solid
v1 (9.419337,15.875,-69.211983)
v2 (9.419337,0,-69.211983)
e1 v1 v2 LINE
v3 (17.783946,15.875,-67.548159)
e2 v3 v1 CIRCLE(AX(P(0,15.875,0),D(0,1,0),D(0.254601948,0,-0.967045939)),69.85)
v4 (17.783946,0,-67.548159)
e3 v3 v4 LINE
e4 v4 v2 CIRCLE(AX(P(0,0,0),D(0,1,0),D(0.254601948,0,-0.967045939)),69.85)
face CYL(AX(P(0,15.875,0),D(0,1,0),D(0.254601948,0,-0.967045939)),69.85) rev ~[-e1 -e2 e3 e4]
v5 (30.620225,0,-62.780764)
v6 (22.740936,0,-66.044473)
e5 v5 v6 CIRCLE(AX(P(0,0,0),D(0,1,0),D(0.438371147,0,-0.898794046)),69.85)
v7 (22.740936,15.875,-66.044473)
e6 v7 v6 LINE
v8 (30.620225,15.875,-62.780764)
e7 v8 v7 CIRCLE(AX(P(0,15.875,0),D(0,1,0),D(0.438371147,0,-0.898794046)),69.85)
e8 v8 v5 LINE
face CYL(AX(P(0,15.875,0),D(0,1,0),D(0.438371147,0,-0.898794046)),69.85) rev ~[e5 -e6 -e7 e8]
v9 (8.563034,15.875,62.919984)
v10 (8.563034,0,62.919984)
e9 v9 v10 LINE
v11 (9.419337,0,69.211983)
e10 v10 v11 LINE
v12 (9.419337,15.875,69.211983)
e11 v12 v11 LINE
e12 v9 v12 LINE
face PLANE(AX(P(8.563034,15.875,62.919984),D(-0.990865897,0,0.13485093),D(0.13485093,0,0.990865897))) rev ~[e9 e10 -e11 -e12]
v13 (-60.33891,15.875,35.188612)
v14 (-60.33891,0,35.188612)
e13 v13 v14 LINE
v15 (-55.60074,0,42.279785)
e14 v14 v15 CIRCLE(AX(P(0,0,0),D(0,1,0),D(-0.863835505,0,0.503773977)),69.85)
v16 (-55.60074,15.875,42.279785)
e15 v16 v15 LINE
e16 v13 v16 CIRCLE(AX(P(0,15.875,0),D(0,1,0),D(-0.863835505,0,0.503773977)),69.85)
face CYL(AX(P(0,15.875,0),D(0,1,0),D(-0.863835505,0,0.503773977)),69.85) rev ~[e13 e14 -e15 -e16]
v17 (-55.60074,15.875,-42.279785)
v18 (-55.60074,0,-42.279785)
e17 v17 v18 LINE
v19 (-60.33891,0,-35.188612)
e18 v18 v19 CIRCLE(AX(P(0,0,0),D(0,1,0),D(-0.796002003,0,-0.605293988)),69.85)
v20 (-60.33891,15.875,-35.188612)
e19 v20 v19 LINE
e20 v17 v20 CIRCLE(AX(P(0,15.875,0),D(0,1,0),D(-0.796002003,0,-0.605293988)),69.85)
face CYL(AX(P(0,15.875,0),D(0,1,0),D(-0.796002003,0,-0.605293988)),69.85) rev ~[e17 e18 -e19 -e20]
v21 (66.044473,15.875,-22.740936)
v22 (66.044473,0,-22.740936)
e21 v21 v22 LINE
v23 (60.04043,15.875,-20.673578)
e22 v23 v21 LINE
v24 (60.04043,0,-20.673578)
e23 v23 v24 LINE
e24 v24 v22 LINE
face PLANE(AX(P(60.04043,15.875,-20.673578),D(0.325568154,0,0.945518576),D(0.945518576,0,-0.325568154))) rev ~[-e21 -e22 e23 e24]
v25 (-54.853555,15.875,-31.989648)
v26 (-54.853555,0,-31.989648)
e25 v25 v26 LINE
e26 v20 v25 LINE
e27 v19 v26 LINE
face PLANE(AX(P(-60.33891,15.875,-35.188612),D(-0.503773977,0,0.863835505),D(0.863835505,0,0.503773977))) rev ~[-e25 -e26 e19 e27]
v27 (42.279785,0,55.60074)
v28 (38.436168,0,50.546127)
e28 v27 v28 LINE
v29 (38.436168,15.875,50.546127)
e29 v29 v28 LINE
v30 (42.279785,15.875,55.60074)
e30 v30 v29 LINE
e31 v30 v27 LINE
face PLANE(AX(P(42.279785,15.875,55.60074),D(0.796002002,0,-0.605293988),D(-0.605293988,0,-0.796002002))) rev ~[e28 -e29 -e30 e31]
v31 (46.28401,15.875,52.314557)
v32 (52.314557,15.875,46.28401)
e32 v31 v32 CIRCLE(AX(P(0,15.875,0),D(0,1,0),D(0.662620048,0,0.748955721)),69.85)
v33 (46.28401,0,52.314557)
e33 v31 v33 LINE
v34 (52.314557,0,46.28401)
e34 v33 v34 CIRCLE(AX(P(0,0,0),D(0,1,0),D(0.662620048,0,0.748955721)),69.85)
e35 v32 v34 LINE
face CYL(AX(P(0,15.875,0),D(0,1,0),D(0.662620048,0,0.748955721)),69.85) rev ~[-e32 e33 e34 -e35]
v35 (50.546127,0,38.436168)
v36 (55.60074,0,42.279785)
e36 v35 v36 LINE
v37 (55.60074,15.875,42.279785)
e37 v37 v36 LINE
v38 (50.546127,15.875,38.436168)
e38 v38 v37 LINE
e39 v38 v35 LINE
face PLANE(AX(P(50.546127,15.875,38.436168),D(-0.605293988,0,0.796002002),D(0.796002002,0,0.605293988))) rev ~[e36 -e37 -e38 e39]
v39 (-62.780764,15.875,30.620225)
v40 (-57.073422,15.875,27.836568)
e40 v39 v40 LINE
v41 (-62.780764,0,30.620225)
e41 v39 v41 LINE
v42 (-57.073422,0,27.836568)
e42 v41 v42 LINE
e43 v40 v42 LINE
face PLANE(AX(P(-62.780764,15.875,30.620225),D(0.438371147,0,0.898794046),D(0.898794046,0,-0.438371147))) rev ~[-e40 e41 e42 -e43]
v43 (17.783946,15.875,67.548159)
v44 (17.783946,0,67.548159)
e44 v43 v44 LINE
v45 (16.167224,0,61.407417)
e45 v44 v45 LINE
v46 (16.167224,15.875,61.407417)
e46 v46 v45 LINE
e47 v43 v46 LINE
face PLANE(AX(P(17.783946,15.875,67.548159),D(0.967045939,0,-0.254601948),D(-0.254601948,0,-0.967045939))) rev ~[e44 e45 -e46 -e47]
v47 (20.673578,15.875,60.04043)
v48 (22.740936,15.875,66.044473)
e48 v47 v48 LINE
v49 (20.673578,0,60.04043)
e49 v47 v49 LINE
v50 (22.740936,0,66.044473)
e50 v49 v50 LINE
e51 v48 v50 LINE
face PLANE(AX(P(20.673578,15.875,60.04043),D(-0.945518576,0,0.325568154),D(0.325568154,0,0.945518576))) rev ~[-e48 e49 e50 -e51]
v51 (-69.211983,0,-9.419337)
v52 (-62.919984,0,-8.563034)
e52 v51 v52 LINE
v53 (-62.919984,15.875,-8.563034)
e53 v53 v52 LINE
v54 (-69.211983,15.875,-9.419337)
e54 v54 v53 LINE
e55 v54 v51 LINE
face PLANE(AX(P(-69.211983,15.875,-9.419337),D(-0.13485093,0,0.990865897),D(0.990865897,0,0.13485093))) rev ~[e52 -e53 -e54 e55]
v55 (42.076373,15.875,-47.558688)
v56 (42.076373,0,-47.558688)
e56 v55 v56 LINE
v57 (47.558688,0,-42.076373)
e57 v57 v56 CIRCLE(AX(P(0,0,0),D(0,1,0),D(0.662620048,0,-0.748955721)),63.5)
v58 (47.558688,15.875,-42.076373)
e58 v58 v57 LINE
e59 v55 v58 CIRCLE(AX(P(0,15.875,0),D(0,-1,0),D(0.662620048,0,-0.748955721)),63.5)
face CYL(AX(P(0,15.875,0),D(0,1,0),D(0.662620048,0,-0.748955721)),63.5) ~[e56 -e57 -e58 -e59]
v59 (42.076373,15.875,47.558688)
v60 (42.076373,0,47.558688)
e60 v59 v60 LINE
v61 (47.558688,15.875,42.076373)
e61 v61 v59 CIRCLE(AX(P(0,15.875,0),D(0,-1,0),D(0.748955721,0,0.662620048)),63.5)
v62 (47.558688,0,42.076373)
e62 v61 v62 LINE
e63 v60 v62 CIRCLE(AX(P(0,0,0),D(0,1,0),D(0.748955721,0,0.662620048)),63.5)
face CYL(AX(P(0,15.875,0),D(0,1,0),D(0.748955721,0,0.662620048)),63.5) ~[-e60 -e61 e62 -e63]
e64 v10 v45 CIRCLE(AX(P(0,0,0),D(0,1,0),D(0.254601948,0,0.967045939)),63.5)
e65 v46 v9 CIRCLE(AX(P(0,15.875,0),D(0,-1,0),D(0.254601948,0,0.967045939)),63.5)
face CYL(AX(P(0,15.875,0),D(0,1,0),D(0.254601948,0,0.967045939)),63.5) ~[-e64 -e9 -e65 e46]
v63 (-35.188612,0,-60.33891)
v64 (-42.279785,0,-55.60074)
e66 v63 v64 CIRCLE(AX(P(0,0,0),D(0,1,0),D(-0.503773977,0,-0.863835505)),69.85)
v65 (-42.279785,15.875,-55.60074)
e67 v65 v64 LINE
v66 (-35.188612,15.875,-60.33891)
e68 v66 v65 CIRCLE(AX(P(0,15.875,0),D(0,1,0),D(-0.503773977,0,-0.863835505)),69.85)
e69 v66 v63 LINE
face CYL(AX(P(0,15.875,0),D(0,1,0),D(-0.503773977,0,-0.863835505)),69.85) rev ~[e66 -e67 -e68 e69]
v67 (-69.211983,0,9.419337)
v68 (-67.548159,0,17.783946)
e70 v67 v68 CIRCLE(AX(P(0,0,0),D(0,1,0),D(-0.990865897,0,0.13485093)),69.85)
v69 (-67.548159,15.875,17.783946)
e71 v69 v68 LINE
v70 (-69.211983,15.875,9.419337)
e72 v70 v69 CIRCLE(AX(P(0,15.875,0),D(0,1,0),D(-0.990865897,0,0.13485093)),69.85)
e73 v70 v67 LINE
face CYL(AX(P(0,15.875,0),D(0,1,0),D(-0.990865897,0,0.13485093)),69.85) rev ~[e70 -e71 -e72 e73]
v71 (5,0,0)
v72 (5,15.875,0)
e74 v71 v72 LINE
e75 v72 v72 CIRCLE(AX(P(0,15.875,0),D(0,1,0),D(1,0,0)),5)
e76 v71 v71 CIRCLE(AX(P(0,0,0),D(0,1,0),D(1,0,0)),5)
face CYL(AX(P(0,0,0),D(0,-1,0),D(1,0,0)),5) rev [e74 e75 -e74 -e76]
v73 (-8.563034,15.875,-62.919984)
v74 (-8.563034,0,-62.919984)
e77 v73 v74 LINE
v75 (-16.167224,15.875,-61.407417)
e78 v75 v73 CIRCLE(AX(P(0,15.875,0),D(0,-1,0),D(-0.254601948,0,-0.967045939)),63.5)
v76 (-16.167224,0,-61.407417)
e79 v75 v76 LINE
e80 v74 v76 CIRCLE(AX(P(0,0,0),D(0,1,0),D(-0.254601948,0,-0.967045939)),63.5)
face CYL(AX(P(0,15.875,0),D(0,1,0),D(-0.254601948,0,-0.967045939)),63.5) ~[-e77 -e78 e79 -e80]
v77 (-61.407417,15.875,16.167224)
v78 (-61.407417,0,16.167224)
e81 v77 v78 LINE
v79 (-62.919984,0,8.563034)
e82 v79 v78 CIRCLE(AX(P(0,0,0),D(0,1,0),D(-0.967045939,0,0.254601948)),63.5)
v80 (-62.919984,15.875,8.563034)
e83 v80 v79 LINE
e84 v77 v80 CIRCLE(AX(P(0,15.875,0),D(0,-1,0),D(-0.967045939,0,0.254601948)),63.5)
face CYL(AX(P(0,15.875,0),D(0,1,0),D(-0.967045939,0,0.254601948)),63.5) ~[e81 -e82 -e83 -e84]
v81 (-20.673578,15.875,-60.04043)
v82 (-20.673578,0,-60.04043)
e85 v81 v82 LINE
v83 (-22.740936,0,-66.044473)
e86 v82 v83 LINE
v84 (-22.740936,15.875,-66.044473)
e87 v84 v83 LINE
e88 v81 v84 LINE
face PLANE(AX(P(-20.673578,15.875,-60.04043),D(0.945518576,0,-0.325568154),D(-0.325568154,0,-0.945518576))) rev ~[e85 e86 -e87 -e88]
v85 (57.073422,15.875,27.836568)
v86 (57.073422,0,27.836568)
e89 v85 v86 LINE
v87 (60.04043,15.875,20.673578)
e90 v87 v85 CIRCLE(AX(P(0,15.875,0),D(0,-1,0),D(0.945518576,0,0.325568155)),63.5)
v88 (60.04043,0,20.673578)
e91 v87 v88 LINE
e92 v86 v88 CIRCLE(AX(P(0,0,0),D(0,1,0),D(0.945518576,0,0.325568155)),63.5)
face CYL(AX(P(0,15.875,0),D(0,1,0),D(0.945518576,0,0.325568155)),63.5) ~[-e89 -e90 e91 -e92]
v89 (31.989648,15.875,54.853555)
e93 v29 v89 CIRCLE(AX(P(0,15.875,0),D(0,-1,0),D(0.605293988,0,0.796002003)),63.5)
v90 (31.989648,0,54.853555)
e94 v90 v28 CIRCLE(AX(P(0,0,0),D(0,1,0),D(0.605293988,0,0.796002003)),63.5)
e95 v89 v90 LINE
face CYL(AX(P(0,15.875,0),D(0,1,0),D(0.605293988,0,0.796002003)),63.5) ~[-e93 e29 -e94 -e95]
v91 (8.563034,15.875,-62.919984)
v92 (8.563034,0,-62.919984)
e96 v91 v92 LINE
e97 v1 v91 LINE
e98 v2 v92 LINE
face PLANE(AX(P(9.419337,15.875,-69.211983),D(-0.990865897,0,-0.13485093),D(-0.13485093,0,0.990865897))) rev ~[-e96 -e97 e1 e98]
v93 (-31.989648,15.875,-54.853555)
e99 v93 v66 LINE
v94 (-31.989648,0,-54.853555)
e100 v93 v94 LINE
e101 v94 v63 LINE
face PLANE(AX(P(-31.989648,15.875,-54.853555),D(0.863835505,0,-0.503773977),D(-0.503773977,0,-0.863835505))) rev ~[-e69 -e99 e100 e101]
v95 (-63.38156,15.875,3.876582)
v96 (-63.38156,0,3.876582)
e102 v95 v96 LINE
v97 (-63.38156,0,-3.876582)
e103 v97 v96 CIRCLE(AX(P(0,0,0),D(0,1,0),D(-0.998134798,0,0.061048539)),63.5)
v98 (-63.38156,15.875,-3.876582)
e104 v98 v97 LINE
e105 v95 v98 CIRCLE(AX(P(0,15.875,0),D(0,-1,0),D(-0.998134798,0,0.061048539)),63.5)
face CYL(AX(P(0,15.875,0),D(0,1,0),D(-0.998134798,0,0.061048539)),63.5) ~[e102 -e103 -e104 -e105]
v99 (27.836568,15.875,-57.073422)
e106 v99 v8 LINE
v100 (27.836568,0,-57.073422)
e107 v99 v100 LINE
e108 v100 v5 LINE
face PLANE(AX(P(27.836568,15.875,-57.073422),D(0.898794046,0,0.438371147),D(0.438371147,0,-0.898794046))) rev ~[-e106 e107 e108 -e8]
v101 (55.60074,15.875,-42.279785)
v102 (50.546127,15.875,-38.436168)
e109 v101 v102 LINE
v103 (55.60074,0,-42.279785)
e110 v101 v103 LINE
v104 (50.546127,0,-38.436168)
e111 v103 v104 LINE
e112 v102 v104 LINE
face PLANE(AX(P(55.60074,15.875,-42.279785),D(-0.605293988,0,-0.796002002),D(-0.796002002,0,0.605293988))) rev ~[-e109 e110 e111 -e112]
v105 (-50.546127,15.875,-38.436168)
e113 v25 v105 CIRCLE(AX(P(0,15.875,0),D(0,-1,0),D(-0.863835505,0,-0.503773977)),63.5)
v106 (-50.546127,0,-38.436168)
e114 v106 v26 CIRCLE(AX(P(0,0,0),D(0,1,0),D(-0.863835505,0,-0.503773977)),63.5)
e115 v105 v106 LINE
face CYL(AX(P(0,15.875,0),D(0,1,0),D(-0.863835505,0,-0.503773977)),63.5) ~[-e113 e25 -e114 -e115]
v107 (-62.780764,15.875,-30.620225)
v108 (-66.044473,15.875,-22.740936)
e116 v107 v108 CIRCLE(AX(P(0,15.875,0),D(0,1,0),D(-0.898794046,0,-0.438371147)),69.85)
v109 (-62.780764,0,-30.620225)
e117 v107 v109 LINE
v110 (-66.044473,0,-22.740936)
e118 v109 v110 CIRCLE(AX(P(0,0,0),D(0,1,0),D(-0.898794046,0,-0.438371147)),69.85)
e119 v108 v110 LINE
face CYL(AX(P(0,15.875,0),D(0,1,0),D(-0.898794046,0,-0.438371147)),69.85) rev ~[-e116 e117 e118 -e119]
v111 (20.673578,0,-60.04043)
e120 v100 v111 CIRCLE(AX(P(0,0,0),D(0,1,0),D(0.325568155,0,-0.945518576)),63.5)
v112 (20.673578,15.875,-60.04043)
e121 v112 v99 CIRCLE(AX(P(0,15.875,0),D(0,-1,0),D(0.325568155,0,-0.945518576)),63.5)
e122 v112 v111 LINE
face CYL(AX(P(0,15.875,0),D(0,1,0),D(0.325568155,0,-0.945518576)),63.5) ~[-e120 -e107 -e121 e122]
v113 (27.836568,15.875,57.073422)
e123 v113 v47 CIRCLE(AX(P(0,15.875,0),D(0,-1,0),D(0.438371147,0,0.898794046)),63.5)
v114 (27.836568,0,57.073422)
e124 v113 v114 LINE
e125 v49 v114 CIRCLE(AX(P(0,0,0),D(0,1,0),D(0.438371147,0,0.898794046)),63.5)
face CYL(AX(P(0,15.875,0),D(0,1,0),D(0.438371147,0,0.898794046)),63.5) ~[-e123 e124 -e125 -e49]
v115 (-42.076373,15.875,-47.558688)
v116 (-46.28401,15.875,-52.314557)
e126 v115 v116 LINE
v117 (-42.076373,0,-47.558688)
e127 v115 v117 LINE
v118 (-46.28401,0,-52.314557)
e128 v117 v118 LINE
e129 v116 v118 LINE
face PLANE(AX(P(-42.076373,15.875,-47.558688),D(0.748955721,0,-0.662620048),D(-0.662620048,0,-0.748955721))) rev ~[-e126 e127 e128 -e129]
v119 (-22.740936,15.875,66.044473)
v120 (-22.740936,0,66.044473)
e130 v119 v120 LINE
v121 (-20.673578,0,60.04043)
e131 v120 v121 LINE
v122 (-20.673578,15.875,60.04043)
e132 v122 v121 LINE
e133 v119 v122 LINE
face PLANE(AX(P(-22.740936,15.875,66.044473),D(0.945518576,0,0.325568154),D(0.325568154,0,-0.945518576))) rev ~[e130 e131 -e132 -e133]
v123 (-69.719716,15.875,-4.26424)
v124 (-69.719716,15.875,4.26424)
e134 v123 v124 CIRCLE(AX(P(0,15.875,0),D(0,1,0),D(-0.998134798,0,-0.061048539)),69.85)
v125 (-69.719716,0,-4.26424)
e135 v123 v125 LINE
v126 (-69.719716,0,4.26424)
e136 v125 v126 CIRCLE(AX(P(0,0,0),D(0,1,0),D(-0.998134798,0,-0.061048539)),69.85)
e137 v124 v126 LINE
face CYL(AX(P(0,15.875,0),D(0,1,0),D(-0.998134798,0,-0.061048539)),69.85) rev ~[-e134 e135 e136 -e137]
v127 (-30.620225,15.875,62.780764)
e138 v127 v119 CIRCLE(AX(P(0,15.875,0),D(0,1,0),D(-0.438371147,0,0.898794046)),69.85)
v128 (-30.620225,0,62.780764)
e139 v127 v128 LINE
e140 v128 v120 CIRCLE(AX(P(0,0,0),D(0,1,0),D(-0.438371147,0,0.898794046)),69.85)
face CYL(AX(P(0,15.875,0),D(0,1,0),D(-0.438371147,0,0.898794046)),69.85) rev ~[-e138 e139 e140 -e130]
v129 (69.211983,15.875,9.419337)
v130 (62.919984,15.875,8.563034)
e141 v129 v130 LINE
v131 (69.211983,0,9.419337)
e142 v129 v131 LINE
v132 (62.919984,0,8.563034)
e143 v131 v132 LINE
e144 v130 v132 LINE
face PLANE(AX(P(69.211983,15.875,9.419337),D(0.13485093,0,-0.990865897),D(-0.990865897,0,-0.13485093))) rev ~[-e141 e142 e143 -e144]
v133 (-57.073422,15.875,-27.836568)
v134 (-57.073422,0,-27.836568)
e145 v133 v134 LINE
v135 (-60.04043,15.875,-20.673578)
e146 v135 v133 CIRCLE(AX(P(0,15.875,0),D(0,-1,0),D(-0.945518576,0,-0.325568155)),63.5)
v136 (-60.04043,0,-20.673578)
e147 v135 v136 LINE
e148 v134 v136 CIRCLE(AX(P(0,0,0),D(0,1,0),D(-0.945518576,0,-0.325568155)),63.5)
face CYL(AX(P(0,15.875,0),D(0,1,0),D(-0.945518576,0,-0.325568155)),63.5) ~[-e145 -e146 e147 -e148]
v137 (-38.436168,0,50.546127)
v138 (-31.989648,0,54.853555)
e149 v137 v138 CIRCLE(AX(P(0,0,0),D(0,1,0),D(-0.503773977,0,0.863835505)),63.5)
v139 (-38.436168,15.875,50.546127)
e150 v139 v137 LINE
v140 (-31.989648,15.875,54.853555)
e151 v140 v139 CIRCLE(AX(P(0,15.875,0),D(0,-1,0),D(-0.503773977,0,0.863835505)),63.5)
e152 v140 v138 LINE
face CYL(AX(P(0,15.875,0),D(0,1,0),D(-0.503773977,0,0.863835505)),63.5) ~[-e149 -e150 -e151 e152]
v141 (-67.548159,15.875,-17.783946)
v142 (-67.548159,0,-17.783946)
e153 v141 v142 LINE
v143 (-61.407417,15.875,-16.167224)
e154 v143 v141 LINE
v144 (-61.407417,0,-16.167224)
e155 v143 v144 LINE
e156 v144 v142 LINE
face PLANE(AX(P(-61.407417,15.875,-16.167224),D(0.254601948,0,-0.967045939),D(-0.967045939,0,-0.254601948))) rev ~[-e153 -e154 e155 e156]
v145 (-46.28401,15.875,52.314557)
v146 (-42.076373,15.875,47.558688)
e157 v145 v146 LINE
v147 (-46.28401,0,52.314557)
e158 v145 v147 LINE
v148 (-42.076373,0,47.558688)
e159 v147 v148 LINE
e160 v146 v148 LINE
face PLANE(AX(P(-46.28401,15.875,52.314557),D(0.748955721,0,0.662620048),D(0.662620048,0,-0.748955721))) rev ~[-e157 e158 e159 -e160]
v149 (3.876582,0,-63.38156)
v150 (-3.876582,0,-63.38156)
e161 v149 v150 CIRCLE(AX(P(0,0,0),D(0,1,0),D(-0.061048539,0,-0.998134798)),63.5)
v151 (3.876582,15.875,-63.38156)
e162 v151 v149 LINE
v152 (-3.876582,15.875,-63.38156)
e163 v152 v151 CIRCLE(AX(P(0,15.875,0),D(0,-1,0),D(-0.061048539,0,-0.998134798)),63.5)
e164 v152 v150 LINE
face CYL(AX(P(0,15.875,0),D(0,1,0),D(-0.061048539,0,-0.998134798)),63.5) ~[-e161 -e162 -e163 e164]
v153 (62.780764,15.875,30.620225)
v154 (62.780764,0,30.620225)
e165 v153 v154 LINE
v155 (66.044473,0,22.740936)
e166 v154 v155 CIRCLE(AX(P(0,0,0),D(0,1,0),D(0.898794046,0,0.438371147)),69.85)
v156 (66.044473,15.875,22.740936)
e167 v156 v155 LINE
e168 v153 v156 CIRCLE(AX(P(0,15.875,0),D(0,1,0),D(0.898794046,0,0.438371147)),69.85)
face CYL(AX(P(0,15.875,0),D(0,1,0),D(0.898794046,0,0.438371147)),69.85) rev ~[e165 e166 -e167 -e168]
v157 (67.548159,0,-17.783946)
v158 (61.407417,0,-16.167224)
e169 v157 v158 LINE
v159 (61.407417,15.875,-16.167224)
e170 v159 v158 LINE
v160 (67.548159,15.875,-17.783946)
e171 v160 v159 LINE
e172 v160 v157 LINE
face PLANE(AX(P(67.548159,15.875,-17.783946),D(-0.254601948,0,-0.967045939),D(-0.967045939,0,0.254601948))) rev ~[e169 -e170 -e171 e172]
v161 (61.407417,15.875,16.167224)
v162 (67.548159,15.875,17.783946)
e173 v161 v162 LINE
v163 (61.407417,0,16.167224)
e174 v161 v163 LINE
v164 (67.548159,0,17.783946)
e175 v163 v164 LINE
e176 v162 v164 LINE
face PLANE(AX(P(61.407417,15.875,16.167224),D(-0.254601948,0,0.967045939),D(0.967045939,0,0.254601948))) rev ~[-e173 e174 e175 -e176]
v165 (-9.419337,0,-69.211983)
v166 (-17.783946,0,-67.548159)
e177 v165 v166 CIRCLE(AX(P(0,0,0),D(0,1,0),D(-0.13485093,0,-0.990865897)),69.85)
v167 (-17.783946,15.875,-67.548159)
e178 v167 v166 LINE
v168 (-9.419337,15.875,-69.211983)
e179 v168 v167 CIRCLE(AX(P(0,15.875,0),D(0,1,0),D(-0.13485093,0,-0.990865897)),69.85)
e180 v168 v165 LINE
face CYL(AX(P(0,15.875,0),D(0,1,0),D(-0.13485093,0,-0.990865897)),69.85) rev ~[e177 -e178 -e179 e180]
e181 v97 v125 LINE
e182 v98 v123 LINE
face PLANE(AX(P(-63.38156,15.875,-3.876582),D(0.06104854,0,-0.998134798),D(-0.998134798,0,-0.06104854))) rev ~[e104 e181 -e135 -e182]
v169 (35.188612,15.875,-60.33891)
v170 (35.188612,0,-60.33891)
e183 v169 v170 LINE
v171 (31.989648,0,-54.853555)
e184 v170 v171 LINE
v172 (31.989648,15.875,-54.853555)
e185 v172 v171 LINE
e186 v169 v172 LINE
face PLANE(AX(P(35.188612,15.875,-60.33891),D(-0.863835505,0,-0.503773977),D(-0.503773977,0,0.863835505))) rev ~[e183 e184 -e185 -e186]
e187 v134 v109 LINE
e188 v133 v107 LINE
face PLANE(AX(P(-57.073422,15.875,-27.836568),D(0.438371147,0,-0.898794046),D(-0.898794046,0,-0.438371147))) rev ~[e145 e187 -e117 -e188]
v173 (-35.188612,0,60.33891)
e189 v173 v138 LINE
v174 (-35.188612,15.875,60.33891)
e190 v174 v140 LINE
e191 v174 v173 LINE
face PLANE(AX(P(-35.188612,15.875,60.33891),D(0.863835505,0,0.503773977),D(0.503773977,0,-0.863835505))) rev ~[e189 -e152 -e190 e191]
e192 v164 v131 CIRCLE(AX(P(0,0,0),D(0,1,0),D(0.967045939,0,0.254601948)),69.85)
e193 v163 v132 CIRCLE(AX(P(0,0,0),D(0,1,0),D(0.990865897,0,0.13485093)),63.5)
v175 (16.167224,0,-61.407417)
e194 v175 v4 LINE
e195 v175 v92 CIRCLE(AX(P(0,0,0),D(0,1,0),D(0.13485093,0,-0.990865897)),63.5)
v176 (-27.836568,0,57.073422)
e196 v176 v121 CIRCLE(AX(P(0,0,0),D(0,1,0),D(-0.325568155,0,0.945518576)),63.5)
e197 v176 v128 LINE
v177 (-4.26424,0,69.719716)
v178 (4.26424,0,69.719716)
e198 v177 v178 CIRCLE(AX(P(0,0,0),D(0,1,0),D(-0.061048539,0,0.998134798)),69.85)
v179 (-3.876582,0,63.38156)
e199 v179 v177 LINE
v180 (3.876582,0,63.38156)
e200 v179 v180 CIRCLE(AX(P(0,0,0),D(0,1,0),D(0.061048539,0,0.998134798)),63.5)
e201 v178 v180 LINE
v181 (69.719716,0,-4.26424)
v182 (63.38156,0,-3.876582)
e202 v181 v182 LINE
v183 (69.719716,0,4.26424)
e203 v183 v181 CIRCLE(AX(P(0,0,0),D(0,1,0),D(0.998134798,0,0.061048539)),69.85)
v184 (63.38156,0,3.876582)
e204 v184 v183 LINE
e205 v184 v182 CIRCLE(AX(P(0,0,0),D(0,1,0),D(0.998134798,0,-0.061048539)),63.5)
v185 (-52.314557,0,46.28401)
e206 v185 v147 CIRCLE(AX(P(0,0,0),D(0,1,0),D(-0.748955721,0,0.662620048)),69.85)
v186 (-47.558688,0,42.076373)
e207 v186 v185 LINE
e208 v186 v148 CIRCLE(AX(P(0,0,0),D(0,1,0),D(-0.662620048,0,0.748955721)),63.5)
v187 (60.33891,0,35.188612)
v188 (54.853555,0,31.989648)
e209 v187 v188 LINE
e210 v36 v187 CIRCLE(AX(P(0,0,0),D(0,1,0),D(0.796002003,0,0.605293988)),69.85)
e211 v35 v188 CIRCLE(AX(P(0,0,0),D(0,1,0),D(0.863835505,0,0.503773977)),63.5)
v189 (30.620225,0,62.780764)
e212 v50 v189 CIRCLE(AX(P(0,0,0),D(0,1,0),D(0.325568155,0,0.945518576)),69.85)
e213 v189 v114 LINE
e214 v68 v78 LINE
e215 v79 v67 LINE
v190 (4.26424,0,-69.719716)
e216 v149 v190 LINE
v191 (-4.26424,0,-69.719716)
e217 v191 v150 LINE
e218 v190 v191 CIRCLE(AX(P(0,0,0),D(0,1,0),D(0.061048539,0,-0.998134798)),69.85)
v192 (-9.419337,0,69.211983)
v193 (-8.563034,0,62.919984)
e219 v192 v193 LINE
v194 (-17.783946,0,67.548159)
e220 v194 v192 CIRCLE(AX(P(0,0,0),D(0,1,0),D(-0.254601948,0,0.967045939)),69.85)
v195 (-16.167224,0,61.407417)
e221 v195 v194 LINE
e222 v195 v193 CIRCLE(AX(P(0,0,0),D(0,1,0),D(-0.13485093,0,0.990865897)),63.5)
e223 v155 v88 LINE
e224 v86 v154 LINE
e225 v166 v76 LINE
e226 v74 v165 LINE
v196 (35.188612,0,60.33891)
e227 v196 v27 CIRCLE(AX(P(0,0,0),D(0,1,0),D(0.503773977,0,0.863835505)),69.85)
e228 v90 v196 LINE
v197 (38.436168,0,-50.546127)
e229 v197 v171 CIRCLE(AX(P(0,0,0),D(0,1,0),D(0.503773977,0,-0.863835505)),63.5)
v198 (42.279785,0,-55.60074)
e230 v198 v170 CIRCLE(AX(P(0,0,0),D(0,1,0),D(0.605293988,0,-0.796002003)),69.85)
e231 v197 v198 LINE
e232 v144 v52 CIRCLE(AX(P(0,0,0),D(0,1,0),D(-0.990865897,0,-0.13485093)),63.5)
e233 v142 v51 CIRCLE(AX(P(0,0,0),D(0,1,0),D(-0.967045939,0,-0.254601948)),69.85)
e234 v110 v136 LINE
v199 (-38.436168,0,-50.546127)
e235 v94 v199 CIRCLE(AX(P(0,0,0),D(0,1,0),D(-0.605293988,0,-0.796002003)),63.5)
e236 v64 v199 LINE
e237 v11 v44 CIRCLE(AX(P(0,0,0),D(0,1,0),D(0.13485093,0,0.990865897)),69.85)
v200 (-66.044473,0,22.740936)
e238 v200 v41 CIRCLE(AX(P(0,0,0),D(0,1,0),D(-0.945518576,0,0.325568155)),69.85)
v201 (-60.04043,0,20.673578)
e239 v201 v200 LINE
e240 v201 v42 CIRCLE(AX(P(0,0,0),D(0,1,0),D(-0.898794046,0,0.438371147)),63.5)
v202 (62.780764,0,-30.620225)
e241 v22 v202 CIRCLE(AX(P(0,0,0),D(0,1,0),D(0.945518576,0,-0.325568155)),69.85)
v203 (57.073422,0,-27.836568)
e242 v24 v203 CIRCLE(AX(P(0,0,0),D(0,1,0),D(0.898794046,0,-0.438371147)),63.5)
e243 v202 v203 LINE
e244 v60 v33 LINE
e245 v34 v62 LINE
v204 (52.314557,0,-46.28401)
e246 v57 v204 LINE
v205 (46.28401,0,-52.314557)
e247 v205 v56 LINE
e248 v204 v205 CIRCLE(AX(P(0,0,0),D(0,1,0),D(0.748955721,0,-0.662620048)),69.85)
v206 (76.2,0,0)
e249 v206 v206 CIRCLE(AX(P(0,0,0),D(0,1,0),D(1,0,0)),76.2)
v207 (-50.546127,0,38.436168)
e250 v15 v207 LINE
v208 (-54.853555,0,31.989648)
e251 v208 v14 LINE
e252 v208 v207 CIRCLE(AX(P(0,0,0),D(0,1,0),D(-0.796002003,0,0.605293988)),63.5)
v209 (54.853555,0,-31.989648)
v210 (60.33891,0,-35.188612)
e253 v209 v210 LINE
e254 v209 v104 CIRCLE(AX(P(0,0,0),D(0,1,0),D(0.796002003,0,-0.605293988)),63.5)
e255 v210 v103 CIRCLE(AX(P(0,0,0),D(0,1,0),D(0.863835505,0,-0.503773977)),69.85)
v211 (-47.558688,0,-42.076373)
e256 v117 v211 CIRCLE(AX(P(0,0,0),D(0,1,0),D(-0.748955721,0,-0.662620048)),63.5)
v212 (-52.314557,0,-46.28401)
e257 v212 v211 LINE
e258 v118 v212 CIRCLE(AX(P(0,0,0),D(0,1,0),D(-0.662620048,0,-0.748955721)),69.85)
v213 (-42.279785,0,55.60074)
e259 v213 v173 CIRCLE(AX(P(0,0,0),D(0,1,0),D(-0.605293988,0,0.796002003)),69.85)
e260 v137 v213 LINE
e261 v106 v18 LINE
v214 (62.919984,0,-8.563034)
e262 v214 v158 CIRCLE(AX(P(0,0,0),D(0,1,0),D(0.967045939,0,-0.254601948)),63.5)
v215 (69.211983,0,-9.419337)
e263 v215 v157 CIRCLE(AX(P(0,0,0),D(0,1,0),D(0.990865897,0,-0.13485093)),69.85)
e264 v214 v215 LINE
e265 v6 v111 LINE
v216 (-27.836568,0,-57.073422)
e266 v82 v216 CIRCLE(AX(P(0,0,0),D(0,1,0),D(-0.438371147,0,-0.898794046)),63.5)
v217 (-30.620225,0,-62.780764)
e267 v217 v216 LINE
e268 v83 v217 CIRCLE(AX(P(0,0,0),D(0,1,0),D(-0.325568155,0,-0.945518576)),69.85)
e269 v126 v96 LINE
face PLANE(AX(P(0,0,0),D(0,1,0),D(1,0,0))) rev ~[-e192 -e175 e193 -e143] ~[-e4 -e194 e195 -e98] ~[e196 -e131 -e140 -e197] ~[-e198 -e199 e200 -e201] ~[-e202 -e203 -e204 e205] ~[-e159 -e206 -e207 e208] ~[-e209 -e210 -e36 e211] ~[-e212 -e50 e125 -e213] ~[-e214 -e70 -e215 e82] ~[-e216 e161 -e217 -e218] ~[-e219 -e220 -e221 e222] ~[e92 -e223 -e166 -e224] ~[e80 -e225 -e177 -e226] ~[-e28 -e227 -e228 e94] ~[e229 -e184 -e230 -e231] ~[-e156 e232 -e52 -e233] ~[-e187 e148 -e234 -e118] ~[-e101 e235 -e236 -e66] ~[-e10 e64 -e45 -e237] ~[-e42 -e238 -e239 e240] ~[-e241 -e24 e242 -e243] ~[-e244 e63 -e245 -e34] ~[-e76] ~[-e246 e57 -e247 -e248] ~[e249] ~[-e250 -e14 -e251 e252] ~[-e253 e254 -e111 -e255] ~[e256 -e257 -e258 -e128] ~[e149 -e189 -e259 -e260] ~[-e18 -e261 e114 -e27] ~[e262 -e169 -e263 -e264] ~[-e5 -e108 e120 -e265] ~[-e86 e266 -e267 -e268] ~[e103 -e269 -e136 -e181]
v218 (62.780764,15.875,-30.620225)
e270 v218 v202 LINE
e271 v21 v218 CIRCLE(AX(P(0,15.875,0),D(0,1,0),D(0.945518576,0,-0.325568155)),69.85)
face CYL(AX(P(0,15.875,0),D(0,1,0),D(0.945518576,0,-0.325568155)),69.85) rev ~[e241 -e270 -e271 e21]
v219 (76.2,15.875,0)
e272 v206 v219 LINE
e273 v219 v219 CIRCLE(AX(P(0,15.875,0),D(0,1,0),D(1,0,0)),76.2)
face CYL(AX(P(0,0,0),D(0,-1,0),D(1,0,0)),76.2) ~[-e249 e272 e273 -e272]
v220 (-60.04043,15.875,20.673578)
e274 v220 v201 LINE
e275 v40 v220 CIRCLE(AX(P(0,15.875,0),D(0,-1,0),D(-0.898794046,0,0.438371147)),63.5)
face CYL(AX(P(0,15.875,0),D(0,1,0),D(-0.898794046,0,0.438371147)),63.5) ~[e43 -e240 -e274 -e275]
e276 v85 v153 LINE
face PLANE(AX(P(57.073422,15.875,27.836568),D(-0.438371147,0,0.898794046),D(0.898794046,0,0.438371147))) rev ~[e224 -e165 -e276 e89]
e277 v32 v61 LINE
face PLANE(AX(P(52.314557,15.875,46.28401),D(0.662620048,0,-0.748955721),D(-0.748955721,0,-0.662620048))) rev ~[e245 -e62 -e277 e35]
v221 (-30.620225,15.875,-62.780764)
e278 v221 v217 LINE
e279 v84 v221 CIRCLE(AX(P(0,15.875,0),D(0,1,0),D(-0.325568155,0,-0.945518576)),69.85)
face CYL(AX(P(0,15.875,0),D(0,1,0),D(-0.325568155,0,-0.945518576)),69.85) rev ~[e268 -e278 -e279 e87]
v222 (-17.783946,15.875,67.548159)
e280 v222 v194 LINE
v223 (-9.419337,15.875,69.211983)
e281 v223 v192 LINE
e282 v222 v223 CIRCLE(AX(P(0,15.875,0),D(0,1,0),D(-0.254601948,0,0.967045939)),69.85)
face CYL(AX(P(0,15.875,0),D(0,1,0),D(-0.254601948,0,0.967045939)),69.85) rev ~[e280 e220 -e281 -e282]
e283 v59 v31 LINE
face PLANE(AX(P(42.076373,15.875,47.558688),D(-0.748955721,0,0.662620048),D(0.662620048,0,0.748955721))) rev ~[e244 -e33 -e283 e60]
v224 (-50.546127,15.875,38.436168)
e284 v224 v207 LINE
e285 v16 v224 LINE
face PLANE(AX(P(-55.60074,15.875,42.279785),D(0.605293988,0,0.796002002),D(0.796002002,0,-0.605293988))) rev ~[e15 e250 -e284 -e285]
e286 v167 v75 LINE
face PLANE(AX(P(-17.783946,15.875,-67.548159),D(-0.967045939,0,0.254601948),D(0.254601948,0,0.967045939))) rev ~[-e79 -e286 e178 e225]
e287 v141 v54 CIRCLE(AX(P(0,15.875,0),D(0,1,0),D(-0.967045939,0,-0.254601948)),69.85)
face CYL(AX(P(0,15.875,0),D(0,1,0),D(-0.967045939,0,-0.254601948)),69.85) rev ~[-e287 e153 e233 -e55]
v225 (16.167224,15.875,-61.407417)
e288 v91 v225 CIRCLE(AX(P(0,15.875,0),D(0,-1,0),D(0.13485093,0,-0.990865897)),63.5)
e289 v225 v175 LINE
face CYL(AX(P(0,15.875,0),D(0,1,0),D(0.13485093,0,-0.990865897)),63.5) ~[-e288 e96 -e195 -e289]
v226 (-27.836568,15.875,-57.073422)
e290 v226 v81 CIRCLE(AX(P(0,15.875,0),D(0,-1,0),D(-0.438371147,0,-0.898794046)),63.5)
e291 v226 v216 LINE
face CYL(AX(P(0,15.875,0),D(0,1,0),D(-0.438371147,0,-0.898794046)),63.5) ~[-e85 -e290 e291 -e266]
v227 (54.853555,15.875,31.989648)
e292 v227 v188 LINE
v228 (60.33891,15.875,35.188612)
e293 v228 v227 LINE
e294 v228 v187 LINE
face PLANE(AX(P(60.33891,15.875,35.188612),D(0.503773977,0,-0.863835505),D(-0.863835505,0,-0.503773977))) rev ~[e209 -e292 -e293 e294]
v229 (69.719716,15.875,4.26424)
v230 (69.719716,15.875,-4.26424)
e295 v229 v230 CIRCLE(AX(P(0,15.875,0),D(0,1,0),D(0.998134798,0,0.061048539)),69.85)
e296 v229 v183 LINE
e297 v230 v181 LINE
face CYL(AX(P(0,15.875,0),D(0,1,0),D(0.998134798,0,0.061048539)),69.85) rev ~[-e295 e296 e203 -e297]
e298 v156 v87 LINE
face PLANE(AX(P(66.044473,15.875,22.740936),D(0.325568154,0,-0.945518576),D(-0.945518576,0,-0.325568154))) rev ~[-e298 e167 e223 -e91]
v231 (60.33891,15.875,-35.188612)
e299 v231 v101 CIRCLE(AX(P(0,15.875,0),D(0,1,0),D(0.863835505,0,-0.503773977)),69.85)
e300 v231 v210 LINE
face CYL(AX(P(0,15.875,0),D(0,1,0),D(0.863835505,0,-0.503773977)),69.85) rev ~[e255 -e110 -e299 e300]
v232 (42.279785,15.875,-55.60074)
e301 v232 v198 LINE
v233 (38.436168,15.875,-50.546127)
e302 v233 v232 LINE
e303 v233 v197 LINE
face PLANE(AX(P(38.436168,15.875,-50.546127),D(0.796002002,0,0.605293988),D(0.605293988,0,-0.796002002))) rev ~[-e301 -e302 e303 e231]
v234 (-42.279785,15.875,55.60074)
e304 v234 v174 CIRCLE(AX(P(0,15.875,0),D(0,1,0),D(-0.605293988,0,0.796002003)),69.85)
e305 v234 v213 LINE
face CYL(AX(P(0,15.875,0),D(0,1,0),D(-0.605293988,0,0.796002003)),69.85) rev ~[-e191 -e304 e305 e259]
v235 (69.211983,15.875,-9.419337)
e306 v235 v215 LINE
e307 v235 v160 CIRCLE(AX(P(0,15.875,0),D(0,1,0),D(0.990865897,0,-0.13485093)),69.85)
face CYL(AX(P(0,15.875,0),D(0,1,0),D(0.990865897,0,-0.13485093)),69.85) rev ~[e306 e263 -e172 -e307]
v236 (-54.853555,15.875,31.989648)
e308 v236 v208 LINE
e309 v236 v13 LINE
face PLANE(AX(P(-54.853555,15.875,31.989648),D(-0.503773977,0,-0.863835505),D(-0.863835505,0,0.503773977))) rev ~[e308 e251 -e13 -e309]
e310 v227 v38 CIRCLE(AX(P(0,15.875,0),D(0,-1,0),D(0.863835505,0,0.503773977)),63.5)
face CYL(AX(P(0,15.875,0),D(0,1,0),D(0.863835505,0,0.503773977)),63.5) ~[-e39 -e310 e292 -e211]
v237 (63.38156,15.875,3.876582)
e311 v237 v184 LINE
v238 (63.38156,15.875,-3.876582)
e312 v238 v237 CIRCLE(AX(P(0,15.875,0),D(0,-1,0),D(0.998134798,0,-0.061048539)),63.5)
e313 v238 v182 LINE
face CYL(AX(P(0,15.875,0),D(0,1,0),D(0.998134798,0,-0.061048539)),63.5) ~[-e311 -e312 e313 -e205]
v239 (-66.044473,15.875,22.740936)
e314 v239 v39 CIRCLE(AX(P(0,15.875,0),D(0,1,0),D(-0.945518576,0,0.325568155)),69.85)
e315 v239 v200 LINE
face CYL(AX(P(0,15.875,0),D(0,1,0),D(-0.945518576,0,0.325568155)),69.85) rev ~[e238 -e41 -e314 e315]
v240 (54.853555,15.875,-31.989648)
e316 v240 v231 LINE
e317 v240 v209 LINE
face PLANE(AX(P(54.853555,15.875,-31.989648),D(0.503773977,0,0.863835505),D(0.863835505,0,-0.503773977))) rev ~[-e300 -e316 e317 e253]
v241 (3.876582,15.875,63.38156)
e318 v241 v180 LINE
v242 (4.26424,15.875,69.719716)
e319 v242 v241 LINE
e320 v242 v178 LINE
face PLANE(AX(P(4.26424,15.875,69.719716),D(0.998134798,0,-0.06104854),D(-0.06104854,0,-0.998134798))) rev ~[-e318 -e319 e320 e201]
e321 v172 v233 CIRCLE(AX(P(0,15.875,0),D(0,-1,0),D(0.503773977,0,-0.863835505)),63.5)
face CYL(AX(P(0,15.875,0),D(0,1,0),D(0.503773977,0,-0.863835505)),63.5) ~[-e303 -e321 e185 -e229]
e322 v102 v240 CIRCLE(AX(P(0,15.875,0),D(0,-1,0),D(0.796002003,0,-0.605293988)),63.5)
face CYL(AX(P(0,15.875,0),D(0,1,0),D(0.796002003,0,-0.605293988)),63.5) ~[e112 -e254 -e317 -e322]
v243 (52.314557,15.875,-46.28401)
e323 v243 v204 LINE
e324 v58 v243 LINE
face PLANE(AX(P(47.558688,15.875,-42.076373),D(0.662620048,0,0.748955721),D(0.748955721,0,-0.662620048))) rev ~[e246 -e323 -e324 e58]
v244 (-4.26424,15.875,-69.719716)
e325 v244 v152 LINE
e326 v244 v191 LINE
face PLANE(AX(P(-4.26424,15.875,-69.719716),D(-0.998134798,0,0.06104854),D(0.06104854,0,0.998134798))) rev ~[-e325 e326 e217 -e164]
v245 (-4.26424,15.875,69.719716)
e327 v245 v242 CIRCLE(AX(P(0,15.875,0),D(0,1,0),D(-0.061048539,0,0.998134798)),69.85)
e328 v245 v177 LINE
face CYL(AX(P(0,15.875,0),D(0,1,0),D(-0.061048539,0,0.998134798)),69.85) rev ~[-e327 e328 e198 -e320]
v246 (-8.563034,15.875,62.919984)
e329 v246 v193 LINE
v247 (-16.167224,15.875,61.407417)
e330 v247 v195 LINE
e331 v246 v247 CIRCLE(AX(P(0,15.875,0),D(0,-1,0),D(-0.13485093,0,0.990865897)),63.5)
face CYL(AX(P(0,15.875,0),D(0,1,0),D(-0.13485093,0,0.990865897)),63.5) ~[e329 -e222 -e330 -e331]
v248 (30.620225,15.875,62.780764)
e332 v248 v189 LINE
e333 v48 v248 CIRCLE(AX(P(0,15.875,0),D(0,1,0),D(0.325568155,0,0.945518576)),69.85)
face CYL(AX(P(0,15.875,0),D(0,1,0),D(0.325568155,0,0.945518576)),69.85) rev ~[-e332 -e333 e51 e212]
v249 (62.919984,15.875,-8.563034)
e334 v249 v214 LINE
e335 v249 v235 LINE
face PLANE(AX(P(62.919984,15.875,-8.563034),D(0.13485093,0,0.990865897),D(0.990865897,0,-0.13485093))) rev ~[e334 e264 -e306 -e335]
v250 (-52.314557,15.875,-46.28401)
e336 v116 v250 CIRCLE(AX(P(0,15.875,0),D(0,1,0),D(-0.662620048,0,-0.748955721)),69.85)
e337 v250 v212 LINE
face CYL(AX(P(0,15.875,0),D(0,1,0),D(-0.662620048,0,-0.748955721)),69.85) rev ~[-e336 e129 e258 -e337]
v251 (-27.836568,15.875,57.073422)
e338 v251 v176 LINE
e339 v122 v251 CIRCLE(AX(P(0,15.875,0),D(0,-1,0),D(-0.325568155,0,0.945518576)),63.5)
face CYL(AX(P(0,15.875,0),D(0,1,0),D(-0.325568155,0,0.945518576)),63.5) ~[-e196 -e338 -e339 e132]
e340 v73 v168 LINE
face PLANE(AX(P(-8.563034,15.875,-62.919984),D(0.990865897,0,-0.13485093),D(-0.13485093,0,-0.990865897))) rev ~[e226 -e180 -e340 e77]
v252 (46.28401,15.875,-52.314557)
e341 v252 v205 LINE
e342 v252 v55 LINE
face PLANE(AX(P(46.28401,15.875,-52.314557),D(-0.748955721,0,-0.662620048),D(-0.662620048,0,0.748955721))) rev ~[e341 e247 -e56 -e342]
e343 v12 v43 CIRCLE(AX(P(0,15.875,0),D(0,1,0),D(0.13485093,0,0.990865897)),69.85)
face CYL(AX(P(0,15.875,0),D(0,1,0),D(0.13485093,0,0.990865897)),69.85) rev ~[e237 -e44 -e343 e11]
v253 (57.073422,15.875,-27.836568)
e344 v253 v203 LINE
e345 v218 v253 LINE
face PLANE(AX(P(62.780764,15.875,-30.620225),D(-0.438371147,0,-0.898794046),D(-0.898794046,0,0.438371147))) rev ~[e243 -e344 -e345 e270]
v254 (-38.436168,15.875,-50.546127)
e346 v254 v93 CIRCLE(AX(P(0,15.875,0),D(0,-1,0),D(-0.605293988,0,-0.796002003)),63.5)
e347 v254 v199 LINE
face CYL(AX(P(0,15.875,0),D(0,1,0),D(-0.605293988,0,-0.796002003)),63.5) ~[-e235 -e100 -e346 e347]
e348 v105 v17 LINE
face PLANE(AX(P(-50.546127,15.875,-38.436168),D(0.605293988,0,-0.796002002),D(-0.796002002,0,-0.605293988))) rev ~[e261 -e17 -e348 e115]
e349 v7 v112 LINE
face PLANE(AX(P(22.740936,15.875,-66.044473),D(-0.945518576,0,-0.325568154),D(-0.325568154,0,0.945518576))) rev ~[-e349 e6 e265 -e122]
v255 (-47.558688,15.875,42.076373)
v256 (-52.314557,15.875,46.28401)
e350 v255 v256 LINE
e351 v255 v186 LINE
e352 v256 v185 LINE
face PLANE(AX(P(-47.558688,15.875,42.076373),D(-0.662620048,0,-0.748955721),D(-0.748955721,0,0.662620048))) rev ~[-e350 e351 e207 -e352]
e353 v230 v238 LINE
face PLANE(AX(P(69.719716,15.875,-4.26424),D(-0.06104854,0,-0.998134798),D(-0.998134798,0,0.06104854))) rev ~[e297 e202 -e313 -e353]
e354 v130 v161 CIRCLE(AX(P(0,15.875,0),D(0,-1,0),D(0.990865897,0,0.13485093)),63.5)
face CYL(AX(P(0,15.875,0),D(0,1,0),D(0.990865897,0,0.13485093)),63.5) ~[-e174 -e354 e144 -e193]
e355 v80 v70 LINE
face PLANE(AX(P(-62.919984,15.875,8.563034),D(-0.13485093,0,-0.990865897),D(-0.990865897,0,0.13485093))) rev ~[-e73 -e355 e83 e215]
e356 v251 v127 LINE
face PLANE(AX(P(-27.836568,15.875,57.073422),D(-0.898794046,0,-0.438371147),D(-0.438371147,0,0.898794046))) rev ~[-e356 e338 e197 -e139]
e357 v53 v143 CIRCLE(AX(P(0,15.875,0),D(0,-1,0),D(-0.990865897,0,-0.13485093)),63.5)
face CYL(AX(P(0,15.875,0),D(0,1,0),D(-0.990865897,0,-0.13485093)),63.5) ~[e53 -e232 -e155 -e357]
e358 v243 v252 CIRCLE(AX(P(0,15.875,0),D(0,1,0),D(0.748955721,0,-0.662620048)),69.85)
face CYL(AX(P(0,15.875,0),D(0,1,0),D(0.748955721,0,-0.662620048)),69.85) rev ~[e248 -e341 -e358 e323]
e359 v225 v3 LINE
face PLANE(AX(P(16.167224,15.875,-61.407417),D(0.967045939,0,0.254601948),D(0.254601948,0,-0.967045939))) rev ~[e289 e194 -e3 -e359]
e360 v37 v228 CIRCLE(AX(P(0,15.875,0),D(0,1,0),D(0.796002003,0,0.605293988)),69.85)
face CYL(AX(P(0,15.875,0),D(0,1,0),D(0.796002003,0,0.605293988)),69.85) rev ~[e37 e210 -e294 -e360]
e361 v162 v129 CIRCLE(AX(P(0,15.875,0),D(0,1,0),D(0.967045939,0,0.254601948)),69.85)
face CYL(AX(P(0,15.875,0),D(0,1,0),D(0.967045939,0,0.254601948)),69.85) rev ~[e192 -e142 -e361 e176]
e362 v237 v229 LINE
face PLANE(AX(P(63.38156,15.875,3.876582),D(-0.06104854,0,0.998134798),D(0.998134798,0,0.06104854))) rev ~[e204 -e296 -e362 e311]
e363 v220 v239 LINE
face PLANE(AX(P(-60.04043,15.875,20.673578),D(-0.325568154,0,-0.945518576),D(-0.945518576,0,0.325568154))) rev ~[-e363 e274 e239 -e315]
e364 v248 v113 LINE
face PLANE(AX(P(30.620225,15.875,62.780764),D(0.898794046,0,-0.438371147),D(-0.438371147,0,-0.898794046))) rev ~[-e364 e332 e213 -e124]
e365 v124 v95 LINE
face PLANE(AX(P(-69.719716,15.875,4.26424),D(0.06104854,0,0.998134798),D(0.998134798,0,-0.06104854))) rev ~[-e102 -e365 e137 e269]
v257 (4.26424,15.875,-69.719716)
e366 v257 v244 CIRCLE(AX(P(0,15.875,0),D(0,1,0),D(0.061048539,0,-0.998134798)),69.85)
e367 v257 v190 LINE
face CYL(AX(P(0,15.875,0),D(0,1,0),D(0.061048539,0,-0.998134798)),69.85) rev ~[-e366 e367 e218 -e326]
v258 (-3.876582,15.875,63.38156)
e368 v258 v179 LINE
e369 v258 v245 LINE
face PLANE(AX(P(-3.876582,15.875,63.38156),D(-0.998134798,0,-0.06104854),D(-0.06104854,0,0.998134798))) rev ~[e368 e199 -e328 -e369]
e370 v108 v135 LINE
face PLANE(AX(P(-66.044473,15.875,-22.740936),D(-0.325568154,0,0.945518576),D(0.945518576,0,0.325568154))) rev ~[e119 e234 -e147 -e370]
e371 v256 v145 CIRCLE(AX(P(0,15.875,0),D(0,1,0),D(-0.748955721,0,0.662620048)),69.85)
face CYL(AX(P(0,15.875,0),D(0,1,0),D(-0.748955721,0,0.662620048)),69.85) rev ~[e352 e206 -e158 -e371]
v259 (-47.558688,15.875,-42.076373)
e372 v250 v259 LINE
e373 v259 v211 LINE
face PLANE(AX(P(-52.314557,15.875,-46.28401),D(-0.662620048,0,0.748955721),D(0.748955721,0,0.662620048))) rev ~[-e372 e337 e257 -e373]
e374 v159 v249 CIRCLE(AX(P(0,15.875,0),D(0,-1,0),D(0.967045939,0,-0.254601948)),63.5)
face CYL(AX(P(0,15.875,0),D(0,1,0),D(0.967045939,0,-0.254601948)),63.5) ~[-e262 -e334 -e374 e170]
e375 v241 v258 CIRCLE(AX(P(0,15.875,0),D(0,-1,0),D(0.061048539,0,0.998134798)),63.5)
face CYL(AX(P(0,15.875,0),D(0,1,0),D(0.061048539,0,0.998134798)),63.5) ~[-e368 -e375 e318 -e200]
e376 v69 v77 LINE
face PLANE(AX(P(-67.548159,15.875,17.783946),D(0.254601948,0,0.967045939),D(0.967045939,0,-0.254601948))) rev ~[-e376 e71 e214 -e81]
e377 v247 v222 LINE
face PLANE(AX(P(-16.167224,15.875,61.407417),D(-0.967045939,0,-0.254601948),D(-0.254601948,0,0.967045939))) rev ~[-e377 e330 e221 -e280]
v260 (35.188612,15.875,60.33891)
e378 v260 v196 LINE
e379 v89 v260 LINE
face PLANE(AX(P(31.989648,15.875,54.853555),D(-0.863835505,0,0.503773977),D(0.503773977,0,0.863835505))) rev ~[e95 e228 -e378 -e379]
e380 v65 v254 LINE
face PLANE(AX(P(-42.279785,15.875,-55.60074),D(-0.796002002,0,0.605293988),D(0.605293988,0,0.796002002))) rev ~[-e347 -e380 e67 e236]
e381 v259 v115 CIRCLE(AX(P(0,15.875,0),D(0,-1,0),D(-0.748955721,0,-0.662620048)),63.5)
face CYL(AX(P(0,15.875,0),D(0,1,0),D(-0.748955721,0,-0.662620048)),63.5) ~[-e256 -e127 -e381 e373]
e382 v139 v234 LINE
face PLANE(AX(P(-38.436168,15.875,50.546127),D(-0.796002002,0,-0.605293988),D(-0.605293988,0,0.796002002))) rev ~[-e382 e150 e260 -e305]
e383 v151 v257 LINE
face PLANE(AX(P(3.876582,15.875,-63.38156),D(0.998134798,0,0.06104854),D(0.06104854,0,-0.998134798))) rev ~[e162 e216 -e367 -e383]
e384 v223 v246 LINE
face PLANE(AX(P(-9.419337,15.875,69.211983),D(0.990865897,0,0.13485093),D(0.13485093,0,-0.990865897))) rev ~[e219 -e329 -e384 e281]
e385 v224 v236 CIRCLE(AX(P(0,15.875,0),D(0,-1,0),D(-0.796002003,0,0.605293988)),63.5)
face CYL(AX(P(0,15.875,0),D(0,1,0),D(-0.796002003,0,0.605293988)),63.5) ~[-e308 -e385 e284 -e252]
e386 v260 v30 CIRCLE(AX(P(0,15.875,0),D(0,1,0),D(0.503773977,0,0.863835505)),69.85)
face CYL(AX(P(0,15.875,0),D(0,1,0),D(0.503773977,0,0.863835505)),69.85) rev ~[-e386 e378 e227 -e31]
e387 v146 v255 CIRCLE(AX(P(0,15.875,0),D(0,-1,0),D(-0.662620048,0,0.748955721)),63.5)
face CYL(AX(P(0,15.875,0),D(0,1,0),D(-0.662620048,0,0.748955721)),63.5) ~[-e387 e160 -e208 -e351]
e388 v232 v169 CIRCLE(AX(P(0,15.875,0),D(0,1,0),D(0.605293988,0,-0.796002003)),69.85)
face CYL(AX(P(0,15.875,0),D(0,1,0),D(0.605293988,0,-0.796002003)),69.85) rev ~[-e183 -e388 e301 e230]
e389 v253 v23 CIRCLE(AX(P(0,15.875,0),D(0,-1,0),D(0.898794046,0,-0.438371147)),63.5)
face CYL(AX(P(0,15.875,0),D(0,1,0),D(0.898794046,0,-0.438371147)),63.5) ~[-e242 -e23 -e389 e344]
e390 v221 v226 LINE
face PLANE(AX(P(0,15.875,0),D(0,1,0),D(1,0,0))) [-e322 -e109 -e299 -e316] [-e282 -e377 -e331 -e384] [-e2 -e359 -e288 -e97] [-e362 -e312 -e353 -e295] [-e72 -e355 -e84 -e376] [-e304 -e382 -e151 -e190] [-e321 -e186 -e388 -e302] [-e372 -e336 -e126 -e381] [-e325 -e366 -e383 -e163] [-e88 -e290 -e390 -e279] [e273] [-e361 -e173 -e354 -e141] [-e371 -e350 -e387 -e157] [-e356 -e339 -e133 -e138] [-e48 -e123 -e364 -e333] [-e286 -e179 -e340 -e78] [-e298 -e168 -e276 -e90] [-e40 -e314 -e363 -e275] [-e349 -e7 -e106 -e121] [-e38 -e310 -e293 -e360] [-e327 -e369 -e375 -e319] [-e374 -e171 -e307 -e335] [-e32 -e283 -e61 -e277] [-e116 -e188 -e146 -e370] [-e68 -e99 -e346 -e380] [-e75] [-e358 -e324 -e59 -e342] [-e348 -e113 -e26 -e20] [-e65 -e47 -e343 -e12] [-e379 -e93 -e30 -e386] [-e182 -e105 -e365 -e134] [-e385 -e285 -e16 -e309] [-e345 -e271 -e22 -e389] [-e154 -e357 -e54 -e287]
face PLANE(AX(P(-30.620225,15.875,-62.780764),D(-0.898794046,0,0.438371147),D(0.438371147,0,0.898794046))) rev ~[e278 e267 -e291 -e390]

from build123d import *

# Parameters (mm, degrees)
SKETCH2_R           = 76.2
SKETCH2_R_2         = 5
BOSS_EXTRUDE1_DEPTH = 15.875
CUT_EXTRUDE1_DEPTH  = 16.875
CIRPATTERN1_COUNT   = 32


with BuildPart() as part:
    # Sketch2 → Boss-Extrude1 (new body)
    with BuildSketch(Plane(origin=(0, 0, 0), x_dir=(1, 0, 0), z_dir=(0, 1, 0))):
        Circle(SKETCH2_R)
        Circle(SKETCH2_R_2, mode=Mode.SUBTRACT)
    extrude(amount=BOSS_EXTRUDE1_DEPTH)

    # Sketch3 → Cut-Extrude1 (cut, through all)
    with BuildSketch(Plane(origin=(0, 15.875, 0), x_dir=(1, 0, 0), z_dir=(0, 1, 0))):
        with BuildLine():
            Line((-4.264240487, 69.71971567), (-3.87658226, 63.3815597))
            ThreePointArc((-3.87658226, 63.3815597), (0, 63.5), (3.87658226, 63.3815597))
            Line((3.87658226, 63.3815597), (4.264240487, 69.71971567))
            ThreePointArc((4.264240487, 69.71971567), (0, 69.85), (-4.264240487, 69.71971567))
        make_face()
    cut_extrude1 = extrude(amount=-CUT_EXTRUDE1_DEPTH, mode=Mode.SUBTRACT)

    # CirPattern1: Cut-Extrude1 ×32 about axis
    cirpattern1_axis = Axis((0, 0, 0), (0, 1, 0))
    for i in range(1, CIRPATTERN1_COUNT):
        add(cut_extrude1.rotate(cirpattern1_axis, i * 360 / CIRPATTERN1_COUNT), mode=Mode.SUBTRACT)


solid = part.part
